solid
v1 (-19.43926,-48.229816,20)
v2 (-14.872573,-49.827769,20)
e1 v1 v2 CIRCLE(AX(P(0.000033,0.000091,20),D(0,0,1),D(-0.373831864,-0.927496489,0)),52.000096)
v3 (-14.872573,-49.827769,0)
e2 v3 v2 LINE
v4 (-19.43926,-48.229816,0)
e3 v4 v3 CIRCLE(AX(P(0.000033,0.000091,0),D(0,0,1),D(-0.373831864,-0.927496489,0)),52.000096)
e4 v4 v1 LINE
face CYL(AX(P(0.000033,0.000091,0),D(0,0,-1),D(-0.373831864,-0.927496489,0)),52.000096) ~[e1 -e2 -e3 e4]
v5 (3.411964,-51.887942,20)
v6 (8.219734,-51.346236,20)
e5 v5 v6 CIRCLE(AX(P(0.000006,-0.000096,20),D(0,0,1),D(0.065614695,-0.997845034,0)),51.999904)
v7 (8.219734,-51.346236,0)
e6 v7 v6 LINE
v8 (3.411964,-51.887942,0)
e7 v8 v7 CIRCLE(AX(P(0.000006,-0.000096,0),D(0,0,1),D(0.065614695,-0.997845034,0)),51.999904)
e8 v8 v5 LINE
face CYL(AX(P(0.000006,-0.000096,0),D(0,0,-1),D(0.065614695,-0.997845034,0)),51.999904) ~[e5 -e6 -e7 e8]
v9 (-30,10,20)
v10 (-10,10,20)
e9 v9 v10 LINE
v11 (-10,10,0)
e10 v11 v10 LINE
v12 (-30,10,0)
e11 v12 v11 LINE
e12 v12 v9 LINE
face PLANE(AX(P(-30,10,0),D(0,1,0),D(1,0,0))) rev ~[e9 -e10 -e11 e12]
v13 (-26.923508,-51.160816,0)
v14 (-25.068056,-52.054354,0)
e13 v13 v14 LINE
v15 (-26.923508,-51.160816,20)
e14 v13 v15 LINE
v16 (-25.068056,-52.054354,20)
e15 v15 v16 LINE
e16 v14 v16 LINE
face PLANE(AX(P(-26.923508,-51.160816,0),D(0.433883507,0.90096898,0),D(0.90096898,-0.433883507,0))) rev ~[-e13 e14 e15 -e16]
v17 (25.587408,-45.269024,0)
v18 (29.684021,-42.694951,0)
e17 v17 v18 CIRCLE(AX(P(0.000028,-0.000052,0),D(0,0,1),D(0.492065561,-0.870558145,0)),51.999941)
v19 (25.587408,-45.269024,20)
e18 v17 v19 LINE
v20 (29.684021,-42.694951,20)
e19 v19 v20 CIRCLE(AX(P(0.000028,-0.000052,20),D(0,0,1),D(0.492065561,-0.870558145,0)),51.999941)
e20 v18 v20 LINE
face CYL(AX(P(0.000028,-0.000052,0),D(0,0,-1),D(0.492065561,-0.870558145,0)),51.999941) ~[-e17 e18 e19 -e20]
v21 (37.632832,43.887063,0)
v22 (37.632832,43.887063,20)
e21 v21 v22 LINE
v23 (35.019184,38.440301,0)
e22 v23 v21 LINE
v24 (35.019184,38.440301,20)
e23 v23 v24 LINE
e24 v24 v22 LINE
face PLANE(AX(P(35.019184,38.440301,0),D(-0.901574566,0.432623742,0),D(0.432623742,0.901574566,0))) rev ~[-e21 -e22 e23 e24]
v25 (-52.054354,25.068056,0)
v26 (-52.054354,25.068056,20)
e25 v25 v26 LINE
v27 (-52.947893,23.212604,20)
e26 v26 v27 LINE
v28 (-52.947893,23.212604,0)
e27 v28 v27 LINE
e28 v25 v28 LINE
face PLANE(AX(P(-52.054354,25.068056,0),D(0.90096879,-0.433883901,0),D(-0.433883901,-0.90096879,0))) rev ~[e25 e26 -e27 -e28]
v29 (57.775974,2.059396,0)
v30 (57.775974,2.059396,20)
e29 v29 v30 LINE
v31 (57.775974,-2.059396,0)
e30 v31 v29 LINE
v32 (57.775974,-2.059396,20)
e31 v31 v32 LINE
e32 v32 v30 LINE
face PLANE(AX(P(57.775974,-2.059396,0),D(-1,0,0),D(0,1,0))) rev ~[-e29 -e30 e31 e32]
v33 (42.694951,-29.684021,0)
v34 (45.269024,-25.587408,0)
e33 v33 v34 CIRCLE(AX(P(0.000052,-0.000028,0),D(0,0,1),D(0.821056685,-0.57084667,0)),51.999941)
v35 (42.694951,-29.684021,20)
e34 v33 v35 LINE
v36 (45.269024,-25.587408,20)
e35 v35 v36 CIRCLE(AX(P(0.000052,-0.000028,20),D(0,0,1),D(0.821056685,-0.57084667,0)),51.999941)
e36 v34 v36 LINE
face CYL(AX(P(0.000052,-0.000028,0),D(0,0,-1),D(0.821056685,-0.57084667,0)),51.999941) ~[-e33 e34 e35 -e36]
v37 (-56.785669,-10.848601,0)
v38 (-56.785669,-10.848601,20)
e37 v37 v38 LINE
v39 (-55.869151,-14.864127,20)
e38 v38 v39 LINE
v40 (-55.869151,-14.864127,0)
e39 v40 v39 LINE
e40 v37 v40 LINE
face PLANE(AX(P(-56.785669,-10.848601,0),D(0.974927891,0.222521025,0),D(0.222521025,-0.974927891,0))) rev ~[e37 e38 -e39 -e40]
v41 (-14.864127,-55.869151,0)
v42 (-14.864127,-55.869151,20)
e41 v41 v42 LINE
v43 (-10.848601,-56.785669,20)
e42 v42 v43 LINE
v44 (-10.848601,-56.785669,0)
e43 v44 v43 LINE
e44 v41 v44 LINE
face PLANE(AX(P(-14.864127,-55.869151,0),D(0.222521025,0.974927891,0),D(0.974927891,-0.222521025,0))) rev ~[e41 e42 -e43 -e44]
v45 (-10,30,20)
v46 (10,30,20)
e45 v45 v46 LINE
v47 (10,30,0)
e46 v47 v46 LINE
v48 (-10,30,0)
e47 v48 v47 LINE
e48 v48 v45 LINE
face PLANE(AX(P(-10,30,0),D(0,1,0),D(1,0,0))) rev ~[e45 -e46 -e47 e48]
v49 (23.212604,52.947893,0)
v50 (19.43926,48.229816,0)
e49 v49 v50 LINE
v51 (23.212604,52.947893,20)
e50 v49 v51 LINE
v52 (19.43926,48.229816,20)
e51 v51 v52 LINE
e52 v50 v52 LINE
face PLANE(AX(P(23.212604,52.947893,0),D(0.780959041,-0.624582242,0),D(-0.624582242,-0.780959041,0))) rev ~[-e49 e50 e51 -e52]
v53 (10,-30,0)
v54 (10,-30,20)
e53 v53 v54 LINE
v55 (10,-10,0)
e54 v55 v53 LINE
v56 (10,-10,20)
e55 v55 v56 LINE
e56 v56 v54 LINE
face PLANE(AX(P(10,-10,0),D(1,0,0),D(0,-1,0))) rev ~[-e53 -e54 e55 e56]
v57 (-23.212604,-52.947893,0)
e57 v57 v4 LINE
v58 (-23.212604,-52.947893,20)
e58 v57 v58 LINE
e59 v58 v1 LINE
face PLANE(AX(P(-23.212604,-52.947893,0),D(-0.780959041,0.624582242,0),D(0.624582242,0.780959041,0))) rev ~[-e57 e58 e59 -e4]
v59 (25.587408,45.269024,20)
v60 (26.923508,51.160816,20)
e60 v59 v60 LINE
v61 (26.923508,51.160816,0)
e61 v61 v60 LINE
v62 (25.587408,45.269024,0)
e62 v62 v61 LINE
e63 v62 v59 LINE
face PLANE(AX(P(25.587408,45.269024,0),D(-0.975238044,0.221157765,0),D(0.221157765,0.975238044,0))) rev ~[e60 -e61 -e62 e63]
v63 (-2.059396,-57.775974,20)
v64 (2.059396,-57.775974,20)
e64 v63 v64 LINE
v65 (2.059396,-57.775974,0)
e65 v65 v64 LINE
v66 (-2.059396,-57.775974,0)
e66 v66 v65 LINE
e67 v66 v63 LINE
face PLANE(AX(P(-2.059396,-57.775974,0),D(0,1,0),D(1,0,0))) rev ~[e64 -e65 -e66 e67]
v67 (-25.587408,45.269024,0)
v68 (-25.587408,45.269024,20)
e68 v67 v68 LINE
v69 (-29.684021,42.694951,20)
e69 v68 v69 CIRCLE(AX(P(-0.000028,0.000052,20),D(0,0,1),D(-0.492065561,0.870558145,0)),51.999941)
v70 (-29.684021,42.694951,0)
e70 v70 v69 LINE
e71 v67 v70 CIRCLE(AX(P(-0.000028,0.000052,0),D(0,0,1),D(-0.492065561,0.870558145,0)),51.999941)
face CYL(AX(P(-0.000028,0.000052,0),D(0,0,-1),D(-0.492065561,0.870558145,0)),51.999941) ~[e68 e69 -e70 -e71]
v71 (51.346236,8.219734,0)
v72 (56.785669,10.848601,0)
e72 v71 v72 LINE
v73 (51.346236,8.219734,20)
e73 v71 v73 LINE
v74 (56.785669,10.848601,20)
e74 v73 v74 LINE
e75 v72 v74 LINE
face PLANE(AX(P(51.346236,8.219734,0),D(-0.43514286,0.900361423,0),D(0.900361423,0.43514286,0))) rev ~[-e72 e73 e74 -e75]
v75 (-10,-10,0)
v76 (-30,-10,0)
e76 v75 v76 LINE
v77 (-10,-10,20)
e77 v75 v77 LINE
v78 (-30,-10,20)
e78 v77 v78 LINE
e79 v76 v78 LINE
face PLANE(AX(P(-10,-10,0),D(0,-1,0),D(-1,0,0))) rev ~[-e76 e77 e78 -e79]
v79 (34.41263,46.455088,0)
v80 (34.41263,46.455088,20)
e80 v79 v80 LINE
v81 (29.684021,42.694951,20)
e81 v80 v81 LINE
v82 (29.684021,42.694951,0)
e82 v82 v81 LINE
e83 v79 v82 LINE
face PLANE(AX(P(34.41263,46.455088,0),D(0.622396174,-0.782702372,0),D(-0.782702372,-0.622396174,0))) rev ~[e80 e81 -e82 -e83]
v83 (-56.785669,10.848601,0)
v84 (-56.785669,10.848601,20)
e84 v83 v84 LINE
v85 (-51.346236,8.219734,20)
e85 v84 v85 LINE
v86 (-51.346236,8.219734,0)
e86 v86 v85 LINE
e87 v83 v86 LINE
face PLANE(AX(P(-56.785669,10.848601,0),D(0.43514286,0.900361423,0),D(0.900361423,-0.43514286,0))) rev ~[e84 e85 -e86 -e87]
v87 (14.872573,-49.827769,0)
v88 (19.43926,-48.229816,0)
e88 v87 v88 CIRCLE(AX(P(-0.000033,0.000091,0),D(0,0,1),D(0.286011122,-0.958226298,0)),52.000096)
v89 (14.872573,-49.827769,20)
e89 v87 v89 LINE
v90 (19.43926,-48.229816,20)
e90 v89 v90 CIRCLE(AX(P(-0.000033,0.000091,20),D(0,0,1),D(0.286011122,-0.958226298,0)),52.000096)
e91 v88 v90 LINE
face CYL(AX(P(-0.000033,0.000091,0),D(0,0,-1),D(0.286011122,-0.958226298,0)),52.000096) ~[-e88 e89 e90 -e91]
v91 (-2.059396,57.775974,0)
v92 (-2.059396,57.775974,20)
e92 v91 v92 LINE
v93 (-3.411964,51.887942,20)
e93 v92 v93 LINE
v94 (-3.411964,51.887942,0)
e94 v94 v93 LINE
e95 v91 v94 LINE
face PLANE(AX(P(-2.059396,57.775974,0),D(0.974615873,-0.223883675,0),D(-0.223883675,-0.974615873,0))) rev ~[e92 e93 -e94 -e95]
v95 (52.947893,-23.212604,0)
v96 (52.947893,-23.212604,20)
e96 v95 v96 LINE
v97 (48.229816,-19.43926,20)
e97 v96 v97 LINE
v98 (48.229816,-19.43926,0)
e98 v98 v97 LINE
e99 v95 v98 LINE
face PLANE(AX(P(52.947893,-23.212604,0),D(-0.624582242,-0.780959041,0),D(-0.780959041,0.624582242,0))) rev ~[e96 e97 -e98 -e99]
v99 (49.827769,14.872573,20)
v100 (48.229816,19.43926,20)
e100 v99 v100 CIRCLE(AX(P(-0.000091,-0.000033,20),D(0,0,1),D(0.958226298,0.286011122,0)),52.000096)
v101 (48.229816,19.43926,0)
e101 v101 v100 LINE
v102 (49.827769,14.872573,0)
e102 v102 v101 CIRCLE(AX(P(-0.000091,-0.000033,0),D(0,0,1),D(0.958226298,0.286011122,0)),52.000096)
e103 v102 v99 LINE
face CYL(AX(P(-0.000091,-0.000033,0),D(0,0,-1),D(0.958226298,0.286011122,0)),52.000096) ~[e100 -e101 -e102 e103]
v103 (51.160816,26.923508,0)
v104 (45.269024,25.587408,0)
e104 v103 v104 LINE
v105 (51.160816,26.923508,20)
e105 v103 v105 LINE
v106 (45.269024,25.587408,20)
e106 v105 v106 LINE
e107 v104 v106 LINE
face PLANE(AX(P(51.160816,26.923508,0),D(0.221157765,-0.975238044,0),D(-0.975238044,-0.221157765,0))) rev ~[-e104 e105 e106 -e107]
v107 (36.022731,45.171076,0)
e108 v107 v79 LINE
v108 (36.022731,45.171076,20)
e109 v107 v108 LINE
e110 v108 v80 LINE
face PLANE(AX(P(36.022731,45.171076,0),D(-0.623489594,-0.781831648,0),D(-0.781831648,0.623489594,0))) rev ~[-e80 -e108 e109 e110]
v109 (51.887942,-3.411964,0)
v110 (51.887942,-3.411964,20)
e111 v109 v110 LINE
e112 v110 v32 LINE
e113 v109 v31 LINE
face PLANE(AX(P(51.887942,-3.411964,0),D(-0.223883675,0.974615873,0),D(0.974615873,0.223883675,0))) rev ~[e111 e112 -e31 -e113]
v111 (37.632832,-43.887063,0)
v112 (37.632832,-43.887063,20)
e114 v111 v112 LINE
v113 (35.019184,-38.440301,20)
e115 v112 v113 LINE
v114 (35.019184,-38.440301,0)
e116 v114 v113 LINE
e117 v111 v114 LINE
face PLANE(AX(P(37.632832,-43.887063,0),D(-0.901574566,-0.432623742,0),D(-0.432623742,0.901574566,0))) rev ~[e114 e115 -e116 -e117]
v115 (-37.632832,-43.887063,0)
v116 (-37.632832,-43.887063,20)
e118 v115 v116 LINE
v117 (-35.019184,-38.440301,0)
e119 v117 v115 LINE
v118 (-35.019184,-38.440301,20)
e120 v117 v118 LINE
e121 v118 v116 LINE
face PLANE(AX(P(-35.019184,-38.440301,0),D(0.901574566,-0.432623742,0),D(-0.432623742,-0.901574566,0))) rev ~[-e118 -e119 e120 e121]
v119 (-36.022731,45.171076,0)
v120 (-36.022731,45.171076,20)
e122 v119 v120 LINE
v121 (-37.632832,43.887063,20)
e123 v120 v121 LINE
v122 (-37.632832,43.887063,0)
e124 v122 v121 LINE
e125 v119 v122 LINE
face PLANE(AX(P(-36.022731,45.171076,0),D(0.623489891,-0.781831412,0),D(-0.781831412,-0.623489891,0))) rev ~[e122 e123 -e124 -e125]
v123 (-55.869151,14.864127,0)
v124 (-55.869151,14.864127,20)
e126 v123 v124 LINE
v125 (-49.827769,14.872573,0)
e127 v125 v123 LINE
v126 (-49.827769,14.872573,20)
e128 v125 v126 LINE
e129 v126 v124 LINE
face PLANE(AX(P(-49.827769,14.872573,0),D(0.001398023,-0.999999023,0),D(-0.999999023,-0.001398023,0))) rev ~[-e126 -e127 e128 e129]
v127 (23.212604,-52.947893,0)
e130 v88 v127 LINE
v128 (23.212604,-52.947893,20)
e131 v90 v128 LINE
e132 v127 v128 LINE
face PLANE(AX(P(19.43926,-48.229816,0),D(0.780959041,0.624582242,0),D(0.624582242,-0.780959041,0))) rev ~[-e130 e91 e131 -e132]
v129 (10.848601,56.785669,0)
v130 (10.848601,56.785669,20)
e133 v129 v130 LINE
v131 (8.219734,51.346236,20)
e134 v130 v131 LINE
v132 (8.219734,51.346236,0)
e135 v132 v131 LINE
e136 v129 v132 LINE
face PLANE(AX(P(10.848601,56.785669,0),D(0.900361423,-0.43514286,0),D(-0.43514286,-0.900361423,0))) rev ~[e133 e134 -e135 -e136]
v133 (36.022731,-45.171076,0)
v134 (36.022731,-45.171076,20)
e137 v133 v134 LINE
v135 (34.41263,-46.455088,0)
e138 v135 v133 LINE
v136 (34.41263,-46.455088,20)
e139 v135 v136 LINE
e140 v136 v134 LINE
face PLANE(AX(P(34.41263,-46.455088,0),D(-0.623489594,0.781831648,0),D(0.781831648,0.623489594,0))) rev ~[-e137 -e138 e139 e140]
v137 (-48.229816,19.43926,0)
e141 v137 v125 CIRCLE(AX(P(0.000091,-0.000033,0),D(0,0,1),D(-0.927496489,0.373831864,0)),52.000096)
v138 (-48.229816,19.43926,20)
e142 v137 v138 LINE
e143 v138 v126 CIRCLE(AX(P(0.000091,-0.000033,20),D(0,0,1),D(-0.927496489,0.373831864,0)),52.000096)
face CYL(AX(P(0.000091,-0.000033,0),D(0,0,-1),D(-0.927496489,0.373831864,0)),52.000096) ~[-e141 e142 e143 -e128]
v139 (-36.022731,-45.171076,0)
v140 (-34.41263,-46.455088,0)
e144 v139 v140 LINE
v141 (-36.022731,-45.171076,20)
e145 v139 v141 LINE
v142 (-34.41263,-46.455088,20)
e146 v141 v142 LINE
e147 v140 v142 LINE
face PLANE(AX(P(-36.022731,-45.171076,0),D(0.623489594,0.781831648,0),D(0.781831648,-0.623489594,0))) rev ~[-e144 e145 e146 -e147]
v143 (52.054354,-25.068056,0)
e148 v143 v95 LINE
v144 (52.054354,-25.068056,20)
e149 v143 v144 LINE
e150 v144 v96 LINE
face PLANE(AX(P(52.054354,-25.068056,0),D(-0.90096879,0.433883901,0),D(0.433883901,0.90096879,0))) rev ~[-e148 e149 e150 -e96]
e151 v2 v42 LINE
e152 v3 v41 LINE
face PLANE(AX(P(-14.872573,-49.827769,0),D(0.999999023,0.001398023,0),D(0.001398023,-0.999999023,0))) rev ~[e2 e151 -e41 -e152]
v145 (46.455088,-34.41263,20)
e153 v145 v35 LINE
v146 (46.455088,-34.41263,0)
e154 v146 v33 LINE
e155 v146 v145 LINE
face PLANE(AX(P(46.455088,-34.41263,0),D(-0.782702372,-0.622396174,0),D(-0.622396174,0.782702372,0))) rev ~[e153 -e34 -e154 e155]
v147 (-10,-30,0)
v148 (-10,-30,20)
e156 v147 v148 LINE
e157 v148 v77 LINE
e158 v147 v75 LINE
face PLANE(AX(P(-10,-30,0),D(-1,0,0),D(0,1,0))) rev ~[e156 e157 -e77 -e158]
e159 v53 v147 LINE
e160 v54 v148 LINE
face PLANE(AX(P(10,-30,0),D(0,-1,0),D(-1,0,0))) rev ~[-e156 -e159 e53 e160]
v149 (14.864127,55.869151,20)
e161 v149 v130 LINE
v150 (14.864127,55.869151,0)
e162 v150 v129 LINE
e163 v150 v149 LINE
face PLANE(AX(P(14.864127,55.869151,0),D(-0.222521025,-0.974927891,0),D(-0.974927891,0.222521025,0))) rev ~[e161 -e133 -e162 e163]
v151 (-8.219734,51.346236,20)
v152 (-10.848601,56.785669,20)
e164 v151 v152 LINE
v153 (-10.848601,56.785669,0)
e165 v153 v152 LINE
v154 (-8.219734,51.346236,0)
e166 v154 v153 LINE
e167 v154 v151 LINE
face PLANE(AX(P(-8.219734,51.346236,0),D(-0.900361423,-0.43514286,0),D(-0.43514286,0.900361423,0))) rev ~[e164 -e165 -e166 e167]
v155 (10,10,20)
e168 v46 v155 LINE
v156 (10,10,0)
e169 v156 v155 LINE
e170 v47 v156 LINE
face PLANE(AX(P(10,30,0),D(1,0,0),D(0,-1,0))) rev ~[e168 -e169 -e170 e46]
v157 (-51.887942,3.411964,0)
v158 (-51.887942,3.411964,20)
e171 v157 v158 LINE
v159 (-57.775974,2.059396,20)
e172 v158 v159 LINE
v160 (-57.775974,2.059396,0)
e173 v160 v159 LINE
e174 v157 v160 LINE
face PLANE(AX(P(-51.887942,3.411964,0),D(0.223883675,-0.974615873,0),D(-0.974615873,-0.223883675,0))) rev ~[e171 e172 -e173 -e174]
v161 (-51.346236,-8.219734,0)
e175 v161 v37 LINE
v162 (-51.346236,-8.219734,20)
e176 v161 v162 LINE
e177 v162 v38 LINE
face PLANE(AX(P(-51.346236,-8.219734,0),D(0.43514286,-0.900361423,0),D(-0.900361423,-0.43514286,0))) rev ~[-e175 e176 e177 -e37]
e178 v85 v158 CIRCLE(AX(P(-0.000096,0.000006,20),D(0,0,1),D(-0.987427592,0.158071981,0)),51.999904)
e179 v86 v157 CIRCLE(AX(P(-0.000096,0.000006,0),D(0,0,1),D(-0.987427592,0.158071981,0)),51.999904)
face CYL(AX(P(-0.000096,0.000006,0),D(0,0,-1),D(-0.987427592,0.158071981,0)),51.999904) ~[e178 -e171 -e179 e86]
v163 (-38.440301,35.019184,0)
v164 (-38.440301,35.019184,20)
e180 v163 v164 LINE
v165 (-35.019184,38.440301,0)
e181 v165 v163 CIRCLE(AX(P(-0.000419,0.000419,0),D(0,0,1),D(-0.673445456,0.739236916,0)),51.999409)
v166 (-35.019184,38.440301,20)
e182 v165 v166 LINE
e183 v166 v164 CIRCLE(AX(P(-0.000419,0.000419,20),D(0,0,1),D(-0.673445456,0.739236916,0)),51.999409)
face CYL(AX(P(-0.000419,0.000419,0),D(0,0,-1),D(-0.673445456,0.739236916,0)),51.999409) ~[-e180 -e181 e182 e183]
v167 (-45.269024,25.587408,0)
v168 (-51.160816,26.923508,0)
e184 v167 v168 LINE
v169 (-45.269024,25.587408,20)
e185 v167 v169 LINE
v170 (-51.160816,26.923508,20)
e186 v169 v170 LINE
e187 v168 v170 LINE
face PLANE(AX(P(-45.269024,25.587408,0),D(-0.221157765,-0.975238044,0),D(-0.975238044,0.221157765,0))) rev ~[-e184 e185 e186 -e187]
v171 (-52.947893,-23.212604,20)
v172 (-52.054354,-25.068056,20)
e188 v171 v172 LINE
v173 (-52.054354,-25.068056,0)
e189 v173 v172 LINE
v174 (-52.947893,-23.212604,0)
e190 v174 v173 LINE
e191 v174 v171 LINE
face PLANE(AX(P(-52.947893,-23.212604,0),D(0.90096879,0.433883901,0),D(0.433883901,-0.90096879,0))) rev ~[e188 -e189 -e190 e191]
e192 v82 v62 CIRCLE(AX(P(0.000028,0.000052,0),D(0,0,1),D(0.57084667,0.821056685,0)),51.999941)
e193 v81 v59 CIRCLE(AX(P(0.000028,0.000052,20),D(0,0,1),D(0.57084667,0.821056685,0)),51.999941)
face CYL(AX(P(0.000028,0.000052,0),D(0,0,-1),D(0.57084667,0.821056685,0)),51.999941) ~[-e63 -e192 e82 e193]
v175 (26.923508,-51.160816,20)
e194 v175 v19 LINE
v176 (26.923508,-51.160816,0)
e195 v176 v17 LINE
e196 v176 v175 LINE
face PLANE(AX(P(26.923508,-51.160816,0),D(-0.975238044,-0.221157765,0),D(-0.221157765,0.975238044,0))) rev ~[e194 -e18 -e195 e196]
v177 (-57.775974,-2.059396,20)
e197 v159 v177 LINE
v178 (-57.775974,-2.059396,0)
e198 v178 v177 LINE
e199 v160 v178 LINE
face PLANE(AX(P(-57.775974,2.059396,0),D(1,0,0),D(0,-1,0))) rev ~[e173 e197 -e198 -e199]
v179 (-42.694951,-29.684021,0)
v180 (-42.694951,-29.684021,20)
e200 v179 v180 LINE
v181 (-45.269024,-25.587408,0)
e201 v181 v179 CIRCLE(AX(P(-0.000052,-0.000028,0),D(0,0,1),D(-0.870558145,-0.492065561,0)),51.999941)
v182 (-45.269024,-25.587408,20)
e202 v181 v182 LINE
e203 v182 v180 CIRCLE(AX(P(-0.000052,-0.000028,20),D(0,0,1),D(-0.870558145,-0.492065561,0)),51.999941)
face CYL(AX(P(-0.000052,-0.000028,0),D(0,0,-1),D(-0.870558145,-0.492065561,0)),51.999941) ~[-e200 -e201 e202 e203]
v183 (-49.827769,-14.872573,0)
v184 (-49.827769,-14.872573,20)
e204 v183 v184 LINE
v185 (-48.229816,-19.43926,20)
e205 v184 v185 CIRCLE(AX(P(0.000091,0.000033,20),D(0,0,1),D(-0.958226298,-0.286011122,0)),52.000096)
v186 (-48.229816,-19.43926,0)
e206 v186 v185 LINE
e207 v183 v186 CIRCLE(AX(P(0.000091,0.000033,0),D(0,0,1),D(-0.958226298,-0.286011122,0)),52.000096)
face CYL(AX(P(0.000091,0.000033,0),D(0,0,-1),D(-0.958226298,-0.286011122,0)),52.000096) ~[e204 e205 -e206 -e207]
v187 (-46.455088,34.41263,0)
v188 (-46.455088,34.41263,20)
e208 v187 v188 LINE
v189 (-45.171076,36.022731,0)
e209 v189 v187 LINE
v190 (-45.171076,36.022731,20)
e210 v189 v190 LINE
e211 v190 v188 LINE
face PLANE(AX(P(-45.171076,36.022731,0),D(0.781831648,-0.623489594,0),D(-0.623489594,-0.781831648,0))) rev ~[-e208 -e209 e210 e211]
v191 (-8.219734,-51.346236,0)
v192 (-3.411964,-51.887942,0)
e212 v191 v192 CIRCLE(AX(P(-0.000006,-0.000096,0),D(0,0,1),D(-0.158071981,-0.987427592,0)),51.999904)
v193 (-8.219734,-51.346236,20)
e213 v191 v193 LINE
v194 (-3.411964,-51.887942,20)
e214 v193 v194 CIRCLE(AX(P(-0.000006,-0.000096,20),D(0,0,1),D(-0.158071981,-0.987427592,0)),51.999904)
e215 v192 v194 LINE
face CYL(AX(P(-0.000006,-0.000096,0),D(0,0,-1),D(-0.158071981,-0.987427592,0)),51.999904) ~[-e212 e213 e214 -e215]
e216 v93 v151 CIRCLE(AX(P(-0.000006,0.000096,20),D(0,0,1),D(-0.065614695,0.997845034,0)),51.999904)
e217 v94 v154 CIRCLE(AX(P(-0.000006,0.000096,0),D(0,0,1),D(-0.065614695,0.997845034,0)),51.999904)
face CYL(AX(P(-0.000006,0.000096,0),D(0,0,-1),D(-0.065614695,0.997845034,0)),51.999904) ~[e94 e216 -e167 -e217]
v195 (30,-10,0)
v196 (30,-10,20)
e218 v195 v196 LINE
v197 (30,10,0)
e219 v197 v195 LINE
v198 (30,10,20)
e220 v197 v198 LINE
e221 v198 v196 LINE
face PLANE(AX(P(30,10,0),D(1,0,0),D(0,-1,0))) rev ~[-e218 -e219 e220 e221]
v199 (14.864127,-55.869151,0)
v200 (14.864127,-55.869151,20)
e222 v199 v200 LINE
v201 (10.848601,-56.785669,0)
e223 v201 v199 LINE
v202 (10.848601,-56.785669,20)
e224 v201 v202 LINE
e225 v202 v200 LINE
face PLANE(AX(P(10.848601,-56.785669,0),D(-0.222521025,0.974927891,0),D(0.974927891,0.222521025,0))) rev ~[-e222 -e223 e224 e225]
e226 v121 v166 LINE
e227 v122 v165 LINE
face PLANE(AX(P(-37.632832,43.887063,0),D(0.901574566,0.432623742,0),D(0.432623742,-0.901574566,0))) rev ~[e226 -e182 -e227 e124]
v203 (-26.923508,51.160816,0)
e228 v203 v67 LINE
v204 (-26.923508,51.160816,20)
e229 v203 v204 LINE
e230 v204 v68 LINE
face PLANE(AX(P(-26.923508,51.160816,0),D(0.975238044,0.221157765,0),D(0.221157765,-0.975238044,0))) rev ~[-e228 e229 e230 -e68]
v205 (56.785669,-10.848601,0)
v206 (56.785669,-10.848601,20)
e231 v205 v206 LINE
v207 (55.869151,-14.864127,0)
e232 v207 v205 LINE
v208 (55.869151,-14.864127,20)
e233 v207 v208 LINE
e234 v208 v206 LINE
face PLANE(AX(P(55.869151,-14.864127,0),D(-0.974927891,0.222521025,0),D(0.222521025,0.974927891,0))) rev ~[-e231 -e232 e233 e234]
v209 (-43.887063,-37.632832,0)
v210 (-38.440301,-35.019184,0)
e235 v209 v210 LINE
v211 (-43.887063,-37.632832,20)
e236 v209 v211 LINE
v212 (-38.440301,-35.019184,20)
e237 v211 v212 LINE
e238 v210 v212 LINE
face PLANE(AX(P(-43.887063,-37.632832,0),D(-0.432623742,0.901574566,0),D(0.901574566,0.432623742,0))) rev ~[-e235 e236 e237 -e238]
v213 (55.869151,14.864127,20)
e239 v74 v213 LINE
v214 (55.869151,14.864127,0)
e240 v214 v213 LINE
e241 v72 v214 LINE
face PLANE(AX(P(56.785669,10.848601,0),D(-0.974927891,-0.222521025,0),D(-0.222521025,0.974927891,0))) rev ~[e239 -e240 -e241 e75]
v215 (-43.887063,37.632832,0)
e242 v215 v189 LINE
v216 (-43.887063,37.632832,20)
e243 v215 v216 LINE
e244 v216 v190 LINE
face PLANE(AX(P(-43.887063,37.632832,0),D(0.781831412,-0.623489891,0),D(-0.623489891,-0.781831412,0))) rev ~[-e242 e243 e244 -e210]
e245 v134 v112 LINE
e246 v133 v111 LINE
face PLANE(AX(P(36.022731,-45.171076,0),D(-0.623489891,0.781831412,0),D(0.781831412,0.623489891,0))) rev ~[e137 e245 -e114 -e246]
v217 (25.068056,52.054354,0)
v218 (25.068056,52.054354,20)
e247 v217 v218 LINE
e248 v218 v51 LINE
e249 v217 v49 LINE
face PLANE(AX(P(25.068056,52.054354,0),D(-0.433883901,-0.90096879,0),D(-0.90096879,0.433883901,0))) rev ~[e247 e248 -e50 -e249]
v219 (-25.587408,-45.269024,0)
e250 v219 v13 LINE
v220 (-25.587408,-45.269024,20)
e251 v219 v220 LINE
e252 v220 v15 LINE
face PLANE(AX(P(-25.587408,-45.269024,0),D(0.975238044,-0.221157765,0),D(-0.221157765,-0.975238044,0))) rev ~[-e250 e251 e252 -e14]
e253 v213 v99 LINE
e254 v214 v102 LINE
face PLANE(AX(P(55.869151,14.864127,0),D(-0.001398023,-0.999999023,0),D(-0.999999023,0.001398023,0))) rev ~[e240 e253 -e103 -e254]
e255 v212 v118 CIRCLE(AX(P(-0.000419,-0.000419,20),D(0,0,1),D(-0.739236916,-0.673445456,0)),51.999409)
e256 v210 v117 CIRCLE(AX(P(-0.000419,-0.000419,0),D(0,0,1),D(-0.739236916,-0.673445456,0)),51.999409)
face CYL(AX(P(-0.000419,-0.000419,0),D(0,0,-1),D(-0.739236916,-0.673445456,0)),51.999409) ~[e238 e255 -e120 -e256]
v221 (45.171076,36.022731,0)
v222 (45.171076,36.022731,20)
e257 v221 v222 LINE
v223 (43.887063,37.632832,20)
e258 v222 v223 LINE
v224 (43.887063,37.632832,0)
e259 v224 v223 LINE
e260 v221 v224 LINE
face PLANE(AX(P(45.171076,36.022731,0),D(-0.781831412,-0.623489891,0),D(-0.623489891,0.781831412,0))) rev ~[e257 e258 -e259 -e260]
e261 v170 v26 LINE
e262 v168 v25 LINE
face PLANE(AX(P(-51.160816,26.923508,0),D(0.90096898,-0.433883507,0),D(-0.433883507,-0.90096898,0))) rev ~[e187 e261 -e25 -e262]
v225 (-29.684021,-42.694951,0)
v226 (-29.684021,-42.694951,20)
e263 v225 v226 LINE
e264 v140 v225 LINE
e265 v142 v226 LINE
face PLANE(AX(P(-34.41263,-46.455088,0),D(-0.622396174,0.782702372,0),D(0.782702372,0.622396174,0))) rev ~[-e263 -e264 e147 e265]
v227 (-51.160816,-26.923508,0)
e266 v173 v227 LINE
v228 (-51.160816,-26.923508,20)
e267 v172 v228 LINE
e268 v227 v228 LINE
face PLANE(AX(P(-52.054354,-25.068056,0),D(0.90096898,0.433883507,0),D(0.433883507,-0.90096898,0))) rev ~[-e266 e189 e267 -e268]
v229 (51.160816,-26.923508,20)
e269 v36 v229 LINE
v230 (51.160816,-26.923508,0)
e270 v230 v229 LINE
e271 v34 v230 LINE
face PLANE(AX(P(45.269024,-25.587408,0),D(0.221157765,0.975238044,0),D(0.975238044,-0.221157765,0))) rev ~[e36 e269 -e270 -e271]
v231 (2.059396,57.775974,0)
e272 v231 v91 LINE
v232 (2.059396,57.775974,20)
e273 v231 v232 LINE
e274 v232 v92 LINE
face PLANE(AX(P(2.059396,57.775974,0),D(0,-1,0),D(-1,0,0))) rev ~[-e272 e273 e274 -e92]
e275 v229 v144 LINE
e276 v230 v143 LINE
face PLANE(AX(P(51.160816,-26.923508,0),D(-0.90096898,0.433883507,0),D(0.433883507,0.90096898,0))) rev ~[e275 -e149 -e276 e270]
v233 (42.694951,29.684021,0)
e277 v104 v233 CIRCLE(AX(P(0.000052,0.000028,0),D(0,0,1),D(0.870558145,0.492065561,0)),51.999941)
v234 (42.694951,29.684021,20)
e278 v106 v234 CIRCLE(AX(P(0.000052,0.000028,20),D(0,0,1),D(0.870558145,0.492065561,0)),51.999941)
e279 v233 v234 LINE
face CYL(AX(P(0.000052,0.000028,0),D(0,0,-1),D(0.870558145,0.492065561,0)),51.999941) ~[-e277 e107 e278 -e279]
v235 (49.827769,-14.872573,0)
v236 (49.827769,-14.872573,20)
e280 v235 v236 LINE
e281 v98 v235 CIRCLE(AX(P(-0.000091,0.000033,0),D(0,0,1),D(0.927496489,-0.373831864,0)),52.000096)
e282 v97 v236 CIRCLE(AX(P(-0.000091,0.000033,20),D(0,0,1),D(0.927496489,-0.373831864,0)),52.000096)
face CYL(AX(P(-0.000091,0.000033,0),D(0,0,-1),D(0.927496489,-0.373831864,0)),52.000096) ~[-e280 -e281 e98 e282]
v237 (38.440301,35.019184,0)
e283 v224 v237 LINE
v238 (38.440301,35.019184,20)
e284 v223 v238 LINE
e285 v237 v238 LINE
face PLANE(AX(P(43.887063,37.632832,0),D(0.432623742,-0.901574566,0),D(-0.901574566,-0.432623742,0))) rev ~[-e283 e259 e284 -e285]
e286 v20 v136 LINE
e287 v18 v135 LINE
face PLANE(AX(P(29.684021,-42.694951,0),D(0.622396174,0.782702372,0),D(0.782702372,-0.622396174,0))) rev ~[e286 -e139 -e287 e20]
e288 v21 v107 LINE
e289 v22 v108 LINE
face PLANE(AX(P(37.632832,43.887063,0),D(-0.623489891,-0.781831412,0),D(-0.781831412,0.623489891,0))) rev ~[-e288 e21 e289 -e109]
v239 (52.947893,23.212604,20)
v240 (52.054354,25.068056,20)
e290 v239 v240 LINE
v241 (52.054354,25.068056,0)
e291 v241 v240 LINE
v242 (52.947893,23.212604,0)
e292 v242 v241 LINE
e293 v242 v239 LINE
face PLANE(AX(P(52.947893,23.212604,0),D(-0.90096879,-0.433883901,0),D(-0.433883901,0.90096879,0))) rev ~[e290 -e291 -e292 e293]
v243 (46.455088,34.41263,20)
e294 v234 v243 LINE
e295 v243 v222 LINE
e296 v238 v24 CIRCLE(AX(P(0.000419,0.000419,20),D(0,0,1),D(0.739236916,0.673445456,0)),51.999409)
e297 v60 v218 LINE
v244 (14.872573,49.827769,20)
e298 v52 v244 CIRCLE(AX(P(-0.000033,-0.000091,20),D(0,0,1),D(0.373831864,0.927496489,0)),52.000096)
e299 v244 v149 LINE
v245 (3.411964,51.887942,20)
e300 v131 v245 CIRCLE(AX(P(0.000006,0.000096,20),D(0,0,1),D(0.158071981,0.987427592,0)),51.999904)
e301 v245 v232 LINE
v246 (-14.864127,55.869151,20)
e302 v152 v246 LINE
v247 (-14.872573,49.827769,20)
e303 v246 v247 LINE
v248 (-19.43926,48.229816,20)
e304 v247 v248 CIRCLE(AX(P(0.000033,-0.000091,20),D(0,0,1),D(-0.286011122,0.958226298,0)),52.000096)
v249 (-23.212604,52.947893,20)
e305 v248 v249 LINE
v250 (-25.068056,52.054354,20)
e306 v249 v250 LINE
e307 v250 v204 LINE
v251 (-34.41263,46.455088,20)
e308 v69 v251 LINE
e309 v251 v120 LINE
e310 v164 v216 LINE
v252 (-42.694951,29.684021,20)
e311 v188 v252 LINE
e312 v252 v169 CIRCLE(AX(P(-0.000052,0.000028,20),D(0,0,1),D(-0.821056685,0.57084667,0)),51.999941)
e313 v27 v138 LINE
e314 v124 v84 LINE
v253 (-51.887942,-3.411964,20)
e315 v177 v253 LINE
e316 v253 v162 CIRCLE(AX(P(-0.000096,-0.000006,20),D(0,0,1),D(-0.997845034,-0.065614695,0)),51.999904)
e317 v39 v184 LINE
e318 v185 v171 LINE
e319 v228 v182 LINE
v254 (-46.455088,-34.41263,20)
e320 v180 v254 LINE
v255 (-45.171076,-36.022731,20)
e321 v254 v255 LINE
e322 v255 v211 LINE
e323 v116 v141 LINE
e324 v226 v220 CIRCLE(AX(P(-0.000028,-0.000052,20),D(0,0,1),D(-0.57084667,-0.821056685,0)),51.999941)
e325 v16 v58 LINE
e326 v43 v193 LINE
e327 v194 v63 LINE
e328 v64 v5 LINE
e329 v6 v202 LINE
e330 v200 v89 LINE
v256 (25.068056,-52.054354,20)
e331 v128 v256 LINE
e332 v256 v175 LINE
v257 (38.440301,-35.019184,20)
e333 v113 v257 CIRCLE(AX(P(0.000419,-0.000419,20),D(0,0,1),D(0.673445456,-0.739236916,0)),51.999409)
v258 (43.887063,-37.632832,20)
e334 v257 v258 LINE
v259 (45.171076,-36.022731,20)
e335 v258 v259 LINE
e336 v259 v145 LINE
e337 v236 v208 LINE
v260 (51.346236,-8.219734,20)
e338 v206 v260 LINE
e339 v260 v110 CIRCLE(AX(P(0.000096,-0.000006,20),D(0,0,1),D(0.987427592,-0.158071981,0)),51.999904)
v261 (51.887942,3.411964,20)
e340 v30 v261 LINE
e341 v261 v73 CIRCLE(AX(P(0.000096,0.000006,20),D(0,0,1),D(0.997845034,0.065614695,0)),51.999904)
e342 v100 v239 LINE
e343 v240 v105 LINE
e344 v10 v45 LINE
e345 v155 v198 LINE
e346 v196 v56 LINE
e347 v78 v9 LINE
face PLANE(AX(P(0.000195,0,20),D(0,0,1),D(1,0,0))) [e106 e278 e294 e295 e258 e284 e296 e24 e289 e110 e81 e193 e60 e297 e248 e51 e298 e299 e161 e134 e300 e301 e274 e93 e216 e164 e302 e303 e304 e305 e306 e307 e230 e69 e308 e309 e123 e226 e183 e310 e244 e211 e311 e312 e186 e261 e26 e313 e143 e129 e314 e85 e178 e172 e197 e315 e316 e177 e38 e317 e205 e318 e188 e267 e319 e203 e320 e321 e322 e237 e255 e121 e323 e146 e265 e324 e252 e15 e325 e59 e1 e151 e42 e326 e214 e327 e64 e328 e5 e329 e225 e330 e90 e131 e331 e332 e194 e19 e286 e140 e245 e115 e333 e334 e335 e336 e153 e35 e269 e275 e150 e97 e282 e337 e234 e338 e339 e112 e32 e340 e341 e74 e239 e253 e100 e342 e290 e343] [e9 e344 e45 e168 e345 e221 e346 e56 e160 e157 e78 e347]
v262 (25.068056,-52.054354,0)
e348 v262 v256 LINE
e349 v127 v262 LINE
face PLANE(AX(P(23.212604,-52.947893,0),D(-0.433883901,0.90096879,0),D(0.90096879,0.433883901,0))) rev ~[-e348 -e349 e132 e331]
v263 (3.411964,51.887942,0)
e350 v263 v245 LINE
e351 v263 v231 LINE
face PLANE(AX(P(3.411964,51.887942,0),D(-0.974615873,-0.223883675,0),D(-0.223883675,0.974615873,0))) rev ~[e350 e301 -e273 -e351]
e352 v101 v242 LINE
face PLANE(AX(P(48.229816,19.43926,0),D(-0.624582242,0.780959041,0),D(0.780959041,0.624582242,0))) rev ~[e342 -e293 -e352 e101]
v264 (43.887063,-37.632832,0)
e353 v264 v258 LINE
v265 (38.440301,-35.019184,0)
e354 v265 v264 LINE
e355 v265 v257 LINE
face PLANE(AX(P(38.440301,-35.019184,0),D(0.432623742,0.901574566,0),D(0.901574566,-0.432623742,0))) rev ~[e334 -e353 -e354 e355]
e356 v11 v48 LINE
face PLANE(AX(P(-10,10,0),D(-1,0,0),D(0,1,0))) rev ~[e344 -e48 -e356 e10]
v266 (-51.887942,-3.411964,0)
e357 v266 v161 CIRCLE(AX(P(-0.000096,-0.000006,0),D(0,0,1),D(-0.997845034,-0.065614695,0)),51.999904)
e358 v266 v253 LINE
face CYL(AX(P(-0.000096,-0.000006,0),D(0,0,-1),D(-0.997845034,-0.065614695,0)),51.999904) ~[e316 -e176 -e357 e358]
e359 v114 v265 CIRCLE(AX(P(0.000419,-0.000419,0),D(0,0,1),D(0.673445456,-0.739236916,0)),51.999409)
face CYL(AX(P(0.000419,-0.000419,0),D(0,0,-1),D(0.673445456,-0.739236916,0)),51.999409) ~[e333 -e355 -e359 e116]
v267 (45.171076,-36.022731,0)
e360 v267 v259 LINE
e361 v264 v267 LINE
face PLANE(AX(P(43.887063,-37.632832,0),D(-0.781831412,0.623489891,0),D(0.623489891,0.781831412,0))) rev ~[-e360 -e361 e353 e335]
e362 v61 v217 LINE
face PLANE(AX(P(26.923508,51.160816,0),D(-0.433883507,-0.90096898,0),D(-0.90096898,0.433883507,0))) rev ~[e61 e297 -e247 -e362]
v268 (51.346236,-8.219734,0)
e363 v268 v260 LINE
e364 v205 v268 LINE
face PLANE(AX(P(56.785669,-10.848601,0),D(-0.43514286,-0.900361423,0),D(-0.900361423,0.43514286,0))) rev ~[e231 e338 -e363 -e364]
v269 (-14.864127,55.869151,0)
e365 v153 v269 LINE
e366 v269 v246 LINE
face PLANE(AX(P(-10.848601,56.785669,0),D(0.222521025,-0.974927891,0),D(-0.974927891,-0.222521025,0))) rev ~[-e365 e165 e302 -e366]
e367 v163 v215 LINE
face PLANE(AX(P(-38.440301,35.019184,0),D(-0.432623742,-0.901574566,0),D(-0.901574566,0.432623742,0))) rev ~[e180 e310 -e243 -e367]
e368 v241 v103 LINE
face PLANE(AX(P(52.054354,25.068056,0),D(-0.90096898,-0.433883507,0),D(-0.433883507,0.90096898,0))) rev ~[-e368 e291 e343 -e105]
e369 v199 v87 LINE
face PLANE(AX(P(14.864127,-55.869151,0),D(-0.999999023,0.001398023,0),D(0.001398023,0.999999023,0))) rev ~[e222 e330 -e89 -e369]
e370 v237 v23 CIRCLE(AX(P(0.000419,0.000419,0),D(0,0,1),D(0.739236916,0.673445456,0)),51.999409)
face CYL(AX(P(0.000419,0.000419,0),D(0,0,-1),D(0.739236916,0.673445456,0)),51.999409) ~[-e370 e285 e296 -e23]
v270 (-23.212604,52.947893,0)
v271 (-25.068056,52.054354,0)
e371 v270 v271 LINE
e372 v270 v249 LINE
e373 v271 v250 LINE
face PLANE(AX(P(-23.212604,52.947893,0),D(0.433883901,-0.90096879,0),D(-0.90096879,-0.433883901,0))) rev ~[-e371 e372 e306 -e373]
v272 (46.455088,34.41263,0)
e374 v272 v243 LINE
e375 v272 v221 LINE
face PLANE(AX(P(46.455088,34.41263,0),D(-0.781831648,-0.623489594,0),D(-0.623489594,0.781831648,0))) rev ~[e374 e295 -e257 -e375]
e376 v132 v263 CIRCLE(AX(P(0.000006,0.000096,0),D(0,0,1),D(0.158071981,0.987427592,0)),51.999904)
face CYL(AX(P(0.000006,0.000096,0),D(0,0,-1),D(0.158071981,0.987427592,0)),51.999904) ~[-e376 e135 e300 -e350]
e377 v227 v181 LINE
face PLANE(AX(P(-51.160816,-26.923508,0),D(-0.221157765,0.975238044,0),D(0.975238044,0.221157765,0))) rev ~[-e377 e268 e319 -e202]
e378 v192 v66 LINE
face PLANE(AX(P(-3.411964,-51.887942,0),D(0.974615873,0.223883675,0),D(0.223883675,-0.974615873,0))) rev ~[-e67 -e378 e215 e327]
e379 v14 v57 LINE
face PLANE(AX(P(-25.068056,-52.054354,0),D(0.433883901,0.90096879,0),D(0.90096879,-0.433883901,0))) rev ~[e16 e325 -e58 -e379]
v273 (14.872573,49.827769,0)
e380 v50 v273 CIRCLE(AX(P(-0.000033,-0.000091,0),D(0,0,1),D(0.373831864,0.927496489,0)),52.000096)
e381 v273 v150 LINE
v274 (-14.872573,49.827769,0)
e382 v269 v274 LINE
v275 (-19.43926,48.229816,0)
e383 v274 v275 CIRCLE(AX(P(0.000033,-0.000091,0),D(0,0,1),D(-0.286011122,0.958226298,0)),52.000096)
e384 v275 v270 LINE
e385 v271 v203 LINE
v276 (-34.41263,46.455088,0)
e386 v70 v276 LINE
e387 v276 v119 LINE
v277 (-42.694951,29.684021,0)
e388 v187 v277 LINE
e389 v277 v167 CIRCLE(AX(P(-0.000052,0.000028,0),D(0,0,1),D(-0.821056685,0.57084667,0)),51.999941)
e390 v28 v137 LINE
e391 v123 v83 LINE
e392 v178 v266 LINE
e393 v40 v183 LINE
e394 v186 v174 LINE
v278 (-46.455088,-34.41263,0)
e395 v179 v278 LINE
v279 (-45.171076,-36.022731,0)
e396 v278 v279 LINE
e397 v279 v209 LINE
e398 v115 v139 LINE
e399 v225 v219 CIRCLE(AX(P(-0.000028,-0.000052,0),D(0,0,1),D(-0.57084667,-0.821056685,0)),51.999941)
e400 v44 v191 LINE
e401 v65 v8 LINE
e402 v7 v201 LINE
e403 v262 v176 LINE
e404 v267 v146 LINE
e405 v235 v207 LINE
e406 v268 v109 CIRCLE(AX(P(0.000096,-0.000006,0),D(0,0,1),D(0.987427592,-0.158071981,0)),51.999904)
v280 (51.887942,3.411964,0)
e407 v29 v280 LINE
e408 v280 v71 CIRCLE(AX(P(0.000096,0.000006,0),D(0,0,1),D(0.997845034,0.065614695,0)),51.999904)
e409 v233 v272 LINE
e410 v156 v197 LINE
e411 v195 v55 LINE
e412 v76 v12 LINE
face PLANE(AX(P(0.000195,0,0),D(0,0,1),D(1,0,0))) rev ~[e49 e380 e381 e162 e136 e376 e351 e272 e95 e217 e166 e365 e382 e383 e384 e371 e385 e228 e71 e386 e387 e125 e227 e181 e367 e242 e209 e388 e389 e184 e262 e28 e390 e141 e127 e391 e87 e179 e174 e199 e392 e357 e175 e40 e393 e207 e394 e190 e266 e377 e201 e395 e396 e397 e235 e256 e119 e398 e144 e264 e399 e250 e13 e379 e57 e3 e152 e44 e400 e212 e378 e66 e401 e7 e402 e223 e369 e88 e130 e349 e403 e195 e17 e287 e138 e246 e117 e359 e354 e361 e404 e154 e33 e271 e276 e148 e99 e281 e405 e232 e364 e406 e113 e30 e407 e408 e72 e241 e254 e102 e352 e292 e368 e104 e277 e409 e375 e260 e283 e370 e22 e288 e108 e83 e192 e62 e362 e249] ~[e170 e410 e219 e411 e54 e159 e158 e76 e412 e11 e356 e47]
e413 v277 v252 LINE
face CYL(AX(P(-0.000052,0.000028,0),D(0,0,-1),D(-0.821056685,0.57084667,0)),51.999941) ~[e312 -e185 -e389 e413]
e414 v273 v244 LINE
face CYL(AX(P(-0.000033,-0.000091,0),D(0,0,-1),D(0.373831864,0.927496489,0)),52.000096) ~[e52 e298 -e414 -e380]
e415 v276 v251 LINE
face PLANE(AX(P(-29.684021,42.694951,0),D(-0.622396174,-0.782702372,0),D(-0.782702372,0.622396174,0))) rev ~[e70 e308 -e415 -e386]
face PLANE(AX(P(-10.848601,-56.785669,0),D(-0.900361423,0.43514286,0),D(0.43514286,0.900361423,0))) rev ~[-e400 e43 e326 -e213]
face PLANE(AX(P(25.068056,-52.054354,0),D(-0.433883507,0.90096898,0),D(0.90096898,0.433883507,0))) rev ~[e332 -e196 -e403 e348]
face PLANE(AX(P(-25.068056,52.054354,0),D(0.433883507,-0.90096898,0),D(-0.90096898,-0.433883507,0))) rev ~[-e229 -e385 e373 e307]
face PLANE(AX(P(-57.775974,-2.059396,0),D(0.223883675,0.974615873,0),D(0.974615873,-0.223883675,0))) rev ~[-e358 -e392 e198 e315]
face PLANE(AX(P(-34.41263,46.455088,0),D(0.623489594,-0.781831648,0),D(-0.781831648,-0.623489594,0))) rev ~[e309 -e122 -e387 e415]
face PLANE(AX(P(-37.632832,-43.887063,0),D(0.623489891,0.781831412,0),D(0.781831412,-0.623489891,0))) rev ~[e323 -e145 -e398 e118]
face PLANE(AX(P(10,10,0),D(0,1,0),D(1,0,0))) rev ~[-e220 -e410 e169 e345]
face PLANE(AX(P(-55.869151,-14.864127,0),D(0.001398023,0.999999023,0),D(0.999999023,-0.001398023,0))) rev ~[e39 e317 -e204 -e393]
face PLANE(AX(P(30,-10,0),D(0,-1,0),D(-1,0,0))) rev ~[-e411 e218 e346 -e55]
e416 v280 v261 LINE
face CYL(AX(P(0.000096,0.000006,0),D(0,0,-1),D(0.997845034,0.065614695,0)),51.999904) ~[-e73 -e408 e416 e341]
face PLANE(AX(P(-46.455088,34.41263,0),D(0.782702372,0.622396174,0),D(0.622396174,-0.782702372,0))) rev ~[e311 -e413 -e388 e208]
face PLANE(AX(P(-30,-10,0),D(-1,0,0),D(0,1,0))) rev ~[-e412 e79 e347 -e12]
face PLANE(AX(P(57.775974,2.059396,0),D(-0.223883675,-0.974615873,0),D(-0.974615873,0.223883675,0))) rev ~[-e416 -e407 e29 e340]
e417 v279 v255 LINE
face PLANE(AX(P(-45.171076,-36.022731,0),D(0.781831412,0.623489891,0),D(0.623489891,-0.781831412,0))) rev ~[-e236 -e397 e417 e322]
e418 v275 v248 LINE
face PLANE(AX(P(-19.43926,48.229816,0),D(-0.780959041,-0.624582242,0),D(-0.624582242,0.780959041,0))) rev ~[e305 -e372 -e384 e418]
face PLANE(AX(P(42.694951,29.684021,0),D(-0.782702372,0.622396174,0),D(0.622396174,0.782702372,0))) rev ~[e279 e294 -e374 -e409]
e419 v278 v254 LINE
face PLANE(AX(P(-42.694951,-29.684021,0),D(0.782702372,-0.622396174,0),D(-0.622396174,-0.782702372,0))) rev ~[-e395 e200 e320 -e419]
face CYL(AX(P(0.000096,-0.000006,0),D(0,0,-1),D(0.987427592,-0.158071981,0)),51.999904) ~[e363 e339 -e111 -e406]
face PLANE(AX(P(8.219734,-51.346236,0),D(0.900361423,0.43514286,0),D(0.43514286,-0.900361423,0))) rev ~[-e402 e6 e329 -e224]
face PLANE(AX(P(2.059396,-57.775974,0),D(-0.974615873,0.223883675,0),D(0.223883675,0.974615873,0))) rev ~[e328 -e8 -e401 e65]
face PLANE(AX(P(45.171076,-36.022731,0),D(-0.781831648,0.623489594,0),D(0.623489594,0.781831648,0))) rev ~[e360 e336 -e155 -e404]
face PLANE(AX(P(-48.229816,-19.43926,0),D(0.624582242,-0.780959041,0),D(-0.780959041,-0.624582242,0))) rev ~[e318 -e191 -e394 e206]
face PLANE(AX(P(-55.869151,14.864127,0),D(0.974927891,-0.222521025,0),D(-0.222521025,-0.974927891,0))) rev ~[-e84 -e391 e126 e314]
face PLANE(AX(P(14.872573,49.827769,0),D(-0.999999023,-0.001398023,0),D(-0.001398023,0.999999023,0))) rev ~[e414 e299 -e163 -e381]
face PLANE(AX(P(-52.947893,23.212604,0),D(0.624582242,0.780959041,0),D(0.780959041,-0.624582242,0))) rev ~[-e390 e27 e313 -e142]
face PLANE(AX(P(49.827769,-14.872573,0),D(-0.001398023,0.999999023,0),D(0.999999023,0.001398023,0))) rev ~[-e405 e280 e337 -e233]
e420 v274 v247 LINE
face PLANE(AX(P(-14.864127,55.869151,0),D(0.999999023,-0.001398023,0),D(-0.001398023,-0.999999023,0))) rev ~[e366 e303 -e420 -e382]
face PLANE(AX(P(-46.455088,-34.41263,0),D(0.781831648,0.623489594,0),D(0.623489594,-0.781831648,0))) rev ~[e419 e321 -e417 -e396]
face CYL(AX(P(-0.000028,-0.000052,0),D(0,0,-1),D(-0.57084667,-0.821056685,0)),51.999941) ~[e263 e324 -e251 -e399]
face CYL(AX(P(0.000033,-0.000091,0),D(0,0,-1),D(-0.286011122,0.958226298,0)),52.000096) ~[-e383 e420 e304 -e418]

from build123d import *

# Parameters (mm, degrees)
F1_DEPTH = 20


with BuildPart() as f1:
    # F0 (on Top) → F1 (new body)
    with BuildSketch(Plane.XY):
        with BuildLine():
            ThreePointArc((51.887942, -3.411964), (51.971978, -1.706902), (52, 0))
            ThreePointArc((52, 0), (51.971978, 1.706902), (51.887942, 3.411964))
            ThreePointArc((51.887942, 3.411964), (51.673035, 5.822153), (51.346236, 8.219734))
            ThreePointArc((51.346236, 8.219734), (50.696251, 11.571089), (49.827769, 14.872573))
            ThreePointArc((49.827769, 14.872573), (49.081933, 17.174511), (48.229816, 19.43926))
            ThreePointArc((48.229816, 19.43926), (46.850381, 22.561954), (45.269024, 25.587408))
            ThreePointArc((45.269024, 25.587408), (44.029658, 27.665668), (42.694951, 29.684021))
            ThreePointArc((42.694951, 29.684021), (40.655237, 32.42147), (38.440301, 35.019184))
            ThreePointArc((38.440301, 35.019184), (36.769553, 36.769553), (35.019184, 38.440301))
            ThreePointArc((35.019184, 38.440301), (32.42147, 40.655237), (29.684021, 42.694951))
            ThreePointArc((29.684021, 42.694951), (27.665668, 44.029658), (25.587408, 45.269024))
            ThreePointArc((25.587408, 45.269024), (22.561954, 46.850381), (19.43926, 48.229816))
            ThreePointArc((19.43926, 48.229816), (17.174511, 49.081933), (14.872573, 49.827769))
            ThreePointArc((14.872573, 49.827769), (11.571089, 50.696251), (8.219734, 51.346236))
            ThreePointArc((8.219734, 51.346236), (5.822153, 51.673035), (3.411964, 51.887942))
            ThreePointArc((3.411964, 51.887942), (0, 52), (-3.411964, 51.887942))
            ThreePointArc((-3.411964, 51.887942), (-5.822153, 51.673035), (-8.219734, 51.346236))
            ThreePointArc((-8.219734, 51.346236), (-11.571089, 50.696251), (-14.872573, 49.827769))
            ThreePointArc((-14.872573, 49.827769), (-17.174511, 49.081933), (-19.43926, 48.229816))
            ThreePointArc((-19.43926, 48.229816), (-22.561954, 46.850381), (-25.587408, 45.269024))
            ThreePointArc((-25.587408, 45.269024), (-27.665668, 44.029658), (-29.684021, 42.694951))
            ThreePointArc((-29.684021, 42.694951), (-32.42147, 40.655237), (-35.019184, 38.440301))
            ThreePointArc((-35.019184, 38.440301), (-36.769553, 36.769553), (-38.440301, 35.019184))
            ThreePointArc((-38.440301, 35.019184), (-40.655237, 32.42147), (-42.694951, 29.684021))
            ThreePointArc((-42.694951, 29.684021), (-44.029658, 27.665668), (-45.269024, 25.587408))
            ThreePointArc((-45.269024, 25.587408), (-46.850381, 22.561954), (-48.229816, 19.43926))
            ThreePointArc((-48.229816, 19.43926), (-49.081933, 17.174511), (-49.827769, 14.872573))
            ThreePointArc((-49.827769, 14.872573), (-50.696251, 11.571089), (-51.346236, 8.219734))
            ThreePointArc((-51.346236, 8.219734), (-51.673035, 5.822153), (-51.887942, 3.411964))
            ThreePointArc((-51.887942, 3.411964), (-52, 0), (-51.887942, -3.411964))
            ThreePointArc((-51.887942, -3.411964), (-51.673035, -5.822153), (-51.346236, -8.219734))
            ThreePointArc((-51.346236, -8.219734), (-50.696251, -11.571089), (-49.827769, -14.872573))
            ThreePointArc((-49.827769, -14.872573), (-49.081933, -17.174511), (-48.229816, -19.43926))
            ThreePointArc((-48.229816, -19.43926), (-46.850381, -22.561954), (-45.269024, -25.587408))
            ThreePointArc((-45.269024, -25.587408), (-44.029658, -27.665668), (-42.694951, -29.684021))
            ThreePointArc((-42.694951, -29.684021), (-40.655237, -32.42147), (-38.440301, -35.019184))
            ThreePointArc((-38.440301, -35.019184), (-36.769553, -36.769553), (-35.019184, -38.440301))
            ThreePointArc((-35.019184, -38.440301), (-32.42147, -40.655237), (-29.684021, -42.694951))
            ThreePointArc((-29.684021, -42.694951), (-27.665668, -44.029658), (-25.587408, -45.269024))
            ThreePointArc((-25.587408, -45.269024), (-22.561954, -46.850381), (-19.43926, -48.229816))
            ThreePointArc((-19.43926, -48.229816), (-17.174511, -49.081933), (-14.872573, -49.827769))
            ThreePointArc((-14.872573, -49.827769), (-11.571089, -50.696251), (-8.219734, -51.346236))
            ThreePointArc((-8.219734, -51.346236), (-5.822153, -51.673035), (-3.411964, -51.887942))
            ThreePointArc((-3.411964, -51.887942), (0, -52), (3.411964, -51.887942))
            ThreePointArc((3.411964, -51.887942), (5.822153, -51.673035), (8.219734, -51.346236))
            ThreePointArc((8.219734, -51.346236), (11.571089, -50.696251), (14.872573, -49.827769))
            ThreePointArc((14.872573, -49.827769), (17.174511, -49.081933), (19.43926, -48.229816))
            ThreePointArc((19.43926, -48.229816), (22.561954, -46.850381), (25.587408, -45.269024))
            ThreePointArc((25.587408, -45.269024), (27.665668, -44.029658), (29.684021, -42.694951))
            ThreePointArc((29.684021, -42.694951), (32.42147, -40.655237), (35.019184, -38.440301))
            ThreePointArc((35.019184, -38.440301), (36.769553, -36.769553), (38.440301, -35.019184))
            ThreePointArc((38.440301, -35.019184), (40.655237, -32.42147), (42.694951, -29.684021))
            ThreePointArc((42.694951, -29.684021), (44.029658, -27.665668), (45.269024, -25.587408))
            ThreePointArc((45.269024, -25.587408), (46.850381, -22.561954), (48.229816, -19.43926))
            ThreePointArc((48.229816, -19.43926), (49.081933, -17.174511), (49.827769, -14.872573))
            ThreePointArc((49.827769, -14.872573), (50.696251, -11.571089), (51.346236, -8.219734))
            ThreePointArc((51.346236, -8.219734), (51.673035, -5.822153), (51.887942, -3.411964))
        make_face()
        Polygon((-10, 30), (0, 30), (10, 30), (10, 10), (30, 10), (30, 0), (30, -10), (10, -10), (10, -30), (0, -30), (-10, -30), (-10, -10), (-30, -10), (-30, 0), (-30, 10), (-10, 10), align=None, mode=Mode.SUBTRACT)
        with BuildLine():
            ThreePointArc((51.887942, 3.411964), (51.971978, 1.706902), (52, 0))
            ThreePointArc((52, 0), (51.971978, -1.706902), (51.887942, -3.411964))
            Line((51.887942, -3.411964), (57.775974, -2.059396))
            Line((57.775974, -2.059396), (57.775974, 0))
            Line((57.775974, 0), (57.775974, 2.059396))
            Line((57.775974, 2.059396), (51.887942, 3.411964))
        make_face()
        with BuildLine():
            ThreePointArc((49.827769, 14.872573), (50.696251, 11.571089), (51.346236, 8.219734))
            Line((51.346236, 8.219734), (56.785669, 10.848601))
            Line((56.785669, 10.848601), (56.32741, 12.856364))
            Line((56.32741, 12.856364), (55.869151, 14.864127))
            Line((55.869151, 14.864127), (49.827769, 14.872573))
        make_face()
        with BuildLine():
            Line((56.785669, -10.848601), (51.346236, -8.219734))
            ThreePointArc((51.346236, -8.219734), (50.696251, -11.571089), (49.827769, -14.872573))
            Line((49.827769, -14.872573), (55.869151, -14.864127))
            Line((55.869151, -14.864127), (56.32741, -12.856364))
            Line((56.32741, -12.856364), (56.785669, -10.848601))
        make_face()
        with BuildLine():
            ThreePointArc((45.269024, 25.587408), (46.850381, 22.561954), (48.229816, 19.43926))
            Line((48.229816, 19.43926), (52.947893, 23.212604))
            Line((52.947893, 23.212604), (52.054354, 25.068056))
            Line((52.054354, 25.068056), (51.160816, 26.923508))
            Line((51.160816, 26.923508), (45.269024, 25.587408))
        make_face()
        with BuildLine():
            Line((52.947893, -23.212604), (48.229816, -19.43926))
            ThreePointArc((48.229816, -19.43926), (46.850381, -22.561954), (45.269024, -25.587408))
            Line((45.269024, -25.587408), (51.160816, -26.923508))
            Line((51.160816, -26.923508), (52.054354, -25.068056))
            Line((52.054354, -25.068056), (52.947893, -23.212604))
        make_face()
        with BuildLine():
            ThreePointArc((38.440301, 35.019184), (40.655237, 32.42147), (42.694951, 29.684021))
            Line((42.694951, 29.684021), (46.455088, 34.41263))
            Line((46.455088, 34.41263), (45.171076, 36.022731))
            Line((45.171076, 36.022731), (43.887063, 37.632832))
            Line((43.887063, 37.632832), (38.440301, 35.019184))
        make_face()
        with BuildLine():
            Line((46.455088, -34.41263), (42.694951, -29.684021))
            ThreePointArc((42.694951, -29.684021), (40.655237, -32.42147), (38.440301, -35.019184))
            Line((38.440301, -35.019184), (43.887063, -37.632832))
            Line((43.887063, -37.632832), (45.171076, -36.022731))
            Line((45.171076, -36.022731), (46.455088, -34.41263))
        make_face()
        with BuildLine():
            ThreePointArc((29.684021, 42.694951), (32.42147, 40.655237), (35.019184, 38.440301))
            Line((35.019184, 38.440301), (37.632832, 43.887063))
            Line((37.632832, 43.887063), (36.022731, 45.171076))
            Line((36.022731, 45.171076), (34.41263, 46.455088))
            Line((34.41263, 46.455088), (29.684021, 42.694951))
        make_face()
        with BuildLine():
            Line((37.632832, -43.887063), (35.019184, -38.440301))
            ThreePointArc((35.019184, -38.440301), (32.42147, -40.655237), (29.684021, -42.694951))
            Line((29.684021, -42.694951), (34.41263, -46.455088))
            Line((34.41263, -46.455088), (36.022731, -45.171076))
            Line((36.022731, -45.171076), (37.632832, -43.887063))
        make_face()
        with BuildLine():
            ThreePointArc((19.43926, 48.229816), (22.561954, 46.850381), (25.587408, 45.269024))
            Line((25.587408, 45.269024), (26.923508, 51.160816))
            Line((26.923508, 51.160816), (25.068056, 52.054354))
            Line((25.068056, 52.054354), (23.212604, 52.947893))
            Line((23.212604, 52.947893), (19.43926, 48.229816))
        make_face()
        with BuildLine():
            Line((26.923508, -51.160816), (25.587408, -45.269024))
            ThreePointArc((25.587408, -45.269024), (22.561954, -46.850381), (19.43926, -48.229816))
            Line((19.43926, -48.229816), (23.212604, -52.947893))
            Line((23.212604, -52.947893), (25.068056, -52.054354))
            Line((25.068056, -52.054354), (26.923508, -51.160816))
        make_face()
        with BuildLine():
            ThreePointArc((8.219734, 51.346236), (11.571089, 50.696251), (14.872573, 49.827769))
            Line((14.872573, 49.827769), (14.864127, 55.869151))
            Line((14.864127, 55.869151), (12.856364, 56.32741))
            Line((12.856364, 56.32741), (10.848601, 56.785669))
            Line((10.848601, 56.785669), (8.219734, 51.346236))
        make_face()
        with BuildLine():
            Line((14.864127, -55.869151), (14.872573, -49.827769))
            ThreePointArc((14.872573, -49.827769), (11.571089, -50.696251), (8.219734, -51.346236))
            Line((8.219734, -51.346236), (10.848601, -56.785669))
            Line((10.848601, -56.785669), (12.856364, -56.32741))
            Line((12.856364, -56.32741), (14.864127, -55.869151))
        make_face()
        with BuildLine():
            ThreePointArc((-3.411964, 51.887942), (0, 52), (3.411964, 51.887942))
            Line((3.411964, 51.887942), (2.059396, 57.775974))
            Line((2.059396, 57.775974), (0, 57.775974))
            Line((0, 57.775974), (-2.059396, 57.775974))
            Line((-2.059396, 57.775974), (-3.411964, 51.887942))
        make_face()
        with BuildLine():
            Line((2.059396, -57.775974), (3.411964, -51.887942))
            ThreePointArc((3.411964, -51.887942), (0, -52), (-3.411964, -51.887942))
            Line((-3.411964, -51.887942), (-2.059396, -57.775974))
            Line((-2.059396, -57.775974), (0, -57.775974))
            Line((0, -57.775974), (2.059396, -57.775974))
        make_face()
        with BuildLine():
            ThreePointArc((-14.872573, 49.827769), (-11.571089, 50.696251), (-8.219734, 51.346236))
            Line((-8.219734, 51.346236), (-10.848601, 56.785669))
            Line((-10.848601, 56.785669), (-12.856364, 56.32741))
            Line((-12.856364, 56.32741), (-14.864127, 55.869151))
            Line((-14.864127, 55.869151), (-14.872573, 49.827769))
        make_face()
        with BuildLine():
            Line((-10.848601, -56.785669), (-8.219734, -51.346236))
            ThreePointArc((-8.219734, -51.346236), (-11.571089, -50.696251), (-14.872573, -49.827769))
            Line((-14.872573, -49.827769), (-14.864127, -55.869151))
            Line((-14.864127, -55.869151), (-12.856364, -56.32741))
            Line((-12.856364, -56.32741), (-10.848601, -56.785669))
        make_face()
        with BuildLine():
            ThreePointArc((-25.587408, 45.269024), (-22.561954, 46.850381), (-19.43926, 48.229816))
            Line((-19.43926, 48.229816), (-23.212604, 52.947893))
            Line((-23.212604, 52.947893), (-25.068056, 52.054354))
            Line((-25.068056, 52.054354), (-26.923508, 51.160816))
            Line((-26.923508, 51.160816), (-25.587408, 45.269024))
        make_face()
        with BuildLine():
            Line((-23.212604, -52.947893), (-19.43926, -48.229816))
            ThreePointArc((-19.43926, -48.229816), (-22.561954, -46.850381), (-25.587408, -45.269024))
            Line((-25.587408, -45.269024), (-26.923508, -51.160816))
            Line((-26.923508, -51.160816), (-25.068056, -52.054354))
            Line((-25.068056, -52.054354), (-23.212604, -52.947893))
        make_face()
        with BuildLine():
            ThreePointArc((-35.019184, 38.440301), (-32.42147, 40.655237), (-29.684021, 42.694951))
            Line((-29.684021, 42.694951), (-34.41263, 46.455088))
            Line((-34.41263, 46.455088), (-36.022731, 45.171076))
            Line((-36.022731, 45.171076), (-37.632832, 43.887063))
            Line((-37.632832, 43.887063), (-35.019184, 38.440301))
        make_face()
        with BuildLine():
            Line((-34.41263, -46.455088), (-29.684021, -42.694951))
            ThreePointArc((-29.684021, -42.694951), (-32.42147, -40.655237), (-35.019184, -38.440301))
            Line((-35.019184, -38.440301), (-37.632832, -43.887063))
            Line((-37.632832, -43.887063), (-36.022731, -45.171076))
            Line((-36.022731, -45.171076), (-34.41263, -46.455088))
        make_face()
        with BuildLine():
            ThreePointArc((-42.694951, 29.684021), (-40.655237, 32.42147), (-38.440301, 35.019184))
            Line((-38.440301, 35.019184), (-43.887063, 37.632832))
            Line((-43.887063, 37.632832), (-45.171076, 36.022731))
            Line((-45.171076, 36.022731), (-46.455088, 34.41263))
            Line((-46.455088, 34.41263), (-42.694951, 29.684021))
        make_face()
        with BuildLine():
            Line((-43.887063, -37.632832), (-38.440301, -35.019184))
            ThreePointArc((-38.440301, -35.019184), (-40.655237, -32.42147), (-42.694951, -29.684021))
            Line((-42.694951, -29.684021), (-46.455088, -34.41263))
            Line((-46.455088, -34.41263), (-45.171076, -36.022731))
            Line((-45.171076, -36.022731), (-43.887063, -37.632832))
        make_face()
        with BuildLine():
            ThreePointArc((-48.229816, 19.43926), (-46.850381, 22.561954), (-45.269024, 25.587408))
            Line((-45.269024, 25.587408), (-51.160816, 26.923508))
            Line((-51.160816, 26.923508), (-52.054354, 25.068056))
            Line((-52.054354, 25.068056), (-52.947893, 23.212604))
            Line((-52.947893, 23.212604), (-48.229816, 19.43926))
        make_face()
        with BuildLine():
            Line((-51.160816, -26.923508), (-45.269024, -25.587408))
            ThreePointArc((-45.269024, -25.587408), (-46.850381, -22.561954), (-48.229816, -19.43926))
            Line((-48.229816, -19.43926), (-52.947893, -23.212604))
            Line((-52.947893, -23.212604), (-52.054354, -25.068056))
            Line((-52.054354, -25.068056), (-51.160816, -26.923508))
        make_face()
        with BuildLine():
            ThreePointArc((-51.346236, 8.219734), (-50.696251, 11.571089), (-49.827769, 14.872573))
            Line((-49.827769, 14.872573), (-55.869151, 14.864127))
            Line((-55.869151, 14.864127), (-56.32741, 12.856364))
            Line((-56.32741, 12.856364), (-56.785669, 10.848601))
            Line((-56.785669, 10.848601), (-51.346236, 8.219734))
        make_face()
        with BuildLine():
            Line((-55.869151, -14.864127), (-49.827769, -14.872573))
            ThreePointArc((-49.827769, -14.872573), (-50.696251, -11.571089), (-51.346236, -8.219734))
            Line((-51.346236, -8.219734), (-56.785669, -10.848601))
            Line((-56.785669, -10.848601), (-56.32741, -12.856364))
            Line((-56.32741, -12.856364), (-55.869151, -14.864127))
        make_face()
        with BuildLine():
            ThreePointArc((-51.887942, -3.411964), (-52, 0), (-51.887942, 3.411964))
            Line((-51.887942, 3.411964), (-57.775974, 2.059396))
            Line((-57.775974, 2.059396), (-57.775974, 0))
            Line((-57.775974, 0), (-57.775974, -2.059396))
            Line((-57.775974, -2.059396), (-51.887942, -3.411964))
        make_face()
    extrude(amount=F1_DEPTH)


solid = f1.part
